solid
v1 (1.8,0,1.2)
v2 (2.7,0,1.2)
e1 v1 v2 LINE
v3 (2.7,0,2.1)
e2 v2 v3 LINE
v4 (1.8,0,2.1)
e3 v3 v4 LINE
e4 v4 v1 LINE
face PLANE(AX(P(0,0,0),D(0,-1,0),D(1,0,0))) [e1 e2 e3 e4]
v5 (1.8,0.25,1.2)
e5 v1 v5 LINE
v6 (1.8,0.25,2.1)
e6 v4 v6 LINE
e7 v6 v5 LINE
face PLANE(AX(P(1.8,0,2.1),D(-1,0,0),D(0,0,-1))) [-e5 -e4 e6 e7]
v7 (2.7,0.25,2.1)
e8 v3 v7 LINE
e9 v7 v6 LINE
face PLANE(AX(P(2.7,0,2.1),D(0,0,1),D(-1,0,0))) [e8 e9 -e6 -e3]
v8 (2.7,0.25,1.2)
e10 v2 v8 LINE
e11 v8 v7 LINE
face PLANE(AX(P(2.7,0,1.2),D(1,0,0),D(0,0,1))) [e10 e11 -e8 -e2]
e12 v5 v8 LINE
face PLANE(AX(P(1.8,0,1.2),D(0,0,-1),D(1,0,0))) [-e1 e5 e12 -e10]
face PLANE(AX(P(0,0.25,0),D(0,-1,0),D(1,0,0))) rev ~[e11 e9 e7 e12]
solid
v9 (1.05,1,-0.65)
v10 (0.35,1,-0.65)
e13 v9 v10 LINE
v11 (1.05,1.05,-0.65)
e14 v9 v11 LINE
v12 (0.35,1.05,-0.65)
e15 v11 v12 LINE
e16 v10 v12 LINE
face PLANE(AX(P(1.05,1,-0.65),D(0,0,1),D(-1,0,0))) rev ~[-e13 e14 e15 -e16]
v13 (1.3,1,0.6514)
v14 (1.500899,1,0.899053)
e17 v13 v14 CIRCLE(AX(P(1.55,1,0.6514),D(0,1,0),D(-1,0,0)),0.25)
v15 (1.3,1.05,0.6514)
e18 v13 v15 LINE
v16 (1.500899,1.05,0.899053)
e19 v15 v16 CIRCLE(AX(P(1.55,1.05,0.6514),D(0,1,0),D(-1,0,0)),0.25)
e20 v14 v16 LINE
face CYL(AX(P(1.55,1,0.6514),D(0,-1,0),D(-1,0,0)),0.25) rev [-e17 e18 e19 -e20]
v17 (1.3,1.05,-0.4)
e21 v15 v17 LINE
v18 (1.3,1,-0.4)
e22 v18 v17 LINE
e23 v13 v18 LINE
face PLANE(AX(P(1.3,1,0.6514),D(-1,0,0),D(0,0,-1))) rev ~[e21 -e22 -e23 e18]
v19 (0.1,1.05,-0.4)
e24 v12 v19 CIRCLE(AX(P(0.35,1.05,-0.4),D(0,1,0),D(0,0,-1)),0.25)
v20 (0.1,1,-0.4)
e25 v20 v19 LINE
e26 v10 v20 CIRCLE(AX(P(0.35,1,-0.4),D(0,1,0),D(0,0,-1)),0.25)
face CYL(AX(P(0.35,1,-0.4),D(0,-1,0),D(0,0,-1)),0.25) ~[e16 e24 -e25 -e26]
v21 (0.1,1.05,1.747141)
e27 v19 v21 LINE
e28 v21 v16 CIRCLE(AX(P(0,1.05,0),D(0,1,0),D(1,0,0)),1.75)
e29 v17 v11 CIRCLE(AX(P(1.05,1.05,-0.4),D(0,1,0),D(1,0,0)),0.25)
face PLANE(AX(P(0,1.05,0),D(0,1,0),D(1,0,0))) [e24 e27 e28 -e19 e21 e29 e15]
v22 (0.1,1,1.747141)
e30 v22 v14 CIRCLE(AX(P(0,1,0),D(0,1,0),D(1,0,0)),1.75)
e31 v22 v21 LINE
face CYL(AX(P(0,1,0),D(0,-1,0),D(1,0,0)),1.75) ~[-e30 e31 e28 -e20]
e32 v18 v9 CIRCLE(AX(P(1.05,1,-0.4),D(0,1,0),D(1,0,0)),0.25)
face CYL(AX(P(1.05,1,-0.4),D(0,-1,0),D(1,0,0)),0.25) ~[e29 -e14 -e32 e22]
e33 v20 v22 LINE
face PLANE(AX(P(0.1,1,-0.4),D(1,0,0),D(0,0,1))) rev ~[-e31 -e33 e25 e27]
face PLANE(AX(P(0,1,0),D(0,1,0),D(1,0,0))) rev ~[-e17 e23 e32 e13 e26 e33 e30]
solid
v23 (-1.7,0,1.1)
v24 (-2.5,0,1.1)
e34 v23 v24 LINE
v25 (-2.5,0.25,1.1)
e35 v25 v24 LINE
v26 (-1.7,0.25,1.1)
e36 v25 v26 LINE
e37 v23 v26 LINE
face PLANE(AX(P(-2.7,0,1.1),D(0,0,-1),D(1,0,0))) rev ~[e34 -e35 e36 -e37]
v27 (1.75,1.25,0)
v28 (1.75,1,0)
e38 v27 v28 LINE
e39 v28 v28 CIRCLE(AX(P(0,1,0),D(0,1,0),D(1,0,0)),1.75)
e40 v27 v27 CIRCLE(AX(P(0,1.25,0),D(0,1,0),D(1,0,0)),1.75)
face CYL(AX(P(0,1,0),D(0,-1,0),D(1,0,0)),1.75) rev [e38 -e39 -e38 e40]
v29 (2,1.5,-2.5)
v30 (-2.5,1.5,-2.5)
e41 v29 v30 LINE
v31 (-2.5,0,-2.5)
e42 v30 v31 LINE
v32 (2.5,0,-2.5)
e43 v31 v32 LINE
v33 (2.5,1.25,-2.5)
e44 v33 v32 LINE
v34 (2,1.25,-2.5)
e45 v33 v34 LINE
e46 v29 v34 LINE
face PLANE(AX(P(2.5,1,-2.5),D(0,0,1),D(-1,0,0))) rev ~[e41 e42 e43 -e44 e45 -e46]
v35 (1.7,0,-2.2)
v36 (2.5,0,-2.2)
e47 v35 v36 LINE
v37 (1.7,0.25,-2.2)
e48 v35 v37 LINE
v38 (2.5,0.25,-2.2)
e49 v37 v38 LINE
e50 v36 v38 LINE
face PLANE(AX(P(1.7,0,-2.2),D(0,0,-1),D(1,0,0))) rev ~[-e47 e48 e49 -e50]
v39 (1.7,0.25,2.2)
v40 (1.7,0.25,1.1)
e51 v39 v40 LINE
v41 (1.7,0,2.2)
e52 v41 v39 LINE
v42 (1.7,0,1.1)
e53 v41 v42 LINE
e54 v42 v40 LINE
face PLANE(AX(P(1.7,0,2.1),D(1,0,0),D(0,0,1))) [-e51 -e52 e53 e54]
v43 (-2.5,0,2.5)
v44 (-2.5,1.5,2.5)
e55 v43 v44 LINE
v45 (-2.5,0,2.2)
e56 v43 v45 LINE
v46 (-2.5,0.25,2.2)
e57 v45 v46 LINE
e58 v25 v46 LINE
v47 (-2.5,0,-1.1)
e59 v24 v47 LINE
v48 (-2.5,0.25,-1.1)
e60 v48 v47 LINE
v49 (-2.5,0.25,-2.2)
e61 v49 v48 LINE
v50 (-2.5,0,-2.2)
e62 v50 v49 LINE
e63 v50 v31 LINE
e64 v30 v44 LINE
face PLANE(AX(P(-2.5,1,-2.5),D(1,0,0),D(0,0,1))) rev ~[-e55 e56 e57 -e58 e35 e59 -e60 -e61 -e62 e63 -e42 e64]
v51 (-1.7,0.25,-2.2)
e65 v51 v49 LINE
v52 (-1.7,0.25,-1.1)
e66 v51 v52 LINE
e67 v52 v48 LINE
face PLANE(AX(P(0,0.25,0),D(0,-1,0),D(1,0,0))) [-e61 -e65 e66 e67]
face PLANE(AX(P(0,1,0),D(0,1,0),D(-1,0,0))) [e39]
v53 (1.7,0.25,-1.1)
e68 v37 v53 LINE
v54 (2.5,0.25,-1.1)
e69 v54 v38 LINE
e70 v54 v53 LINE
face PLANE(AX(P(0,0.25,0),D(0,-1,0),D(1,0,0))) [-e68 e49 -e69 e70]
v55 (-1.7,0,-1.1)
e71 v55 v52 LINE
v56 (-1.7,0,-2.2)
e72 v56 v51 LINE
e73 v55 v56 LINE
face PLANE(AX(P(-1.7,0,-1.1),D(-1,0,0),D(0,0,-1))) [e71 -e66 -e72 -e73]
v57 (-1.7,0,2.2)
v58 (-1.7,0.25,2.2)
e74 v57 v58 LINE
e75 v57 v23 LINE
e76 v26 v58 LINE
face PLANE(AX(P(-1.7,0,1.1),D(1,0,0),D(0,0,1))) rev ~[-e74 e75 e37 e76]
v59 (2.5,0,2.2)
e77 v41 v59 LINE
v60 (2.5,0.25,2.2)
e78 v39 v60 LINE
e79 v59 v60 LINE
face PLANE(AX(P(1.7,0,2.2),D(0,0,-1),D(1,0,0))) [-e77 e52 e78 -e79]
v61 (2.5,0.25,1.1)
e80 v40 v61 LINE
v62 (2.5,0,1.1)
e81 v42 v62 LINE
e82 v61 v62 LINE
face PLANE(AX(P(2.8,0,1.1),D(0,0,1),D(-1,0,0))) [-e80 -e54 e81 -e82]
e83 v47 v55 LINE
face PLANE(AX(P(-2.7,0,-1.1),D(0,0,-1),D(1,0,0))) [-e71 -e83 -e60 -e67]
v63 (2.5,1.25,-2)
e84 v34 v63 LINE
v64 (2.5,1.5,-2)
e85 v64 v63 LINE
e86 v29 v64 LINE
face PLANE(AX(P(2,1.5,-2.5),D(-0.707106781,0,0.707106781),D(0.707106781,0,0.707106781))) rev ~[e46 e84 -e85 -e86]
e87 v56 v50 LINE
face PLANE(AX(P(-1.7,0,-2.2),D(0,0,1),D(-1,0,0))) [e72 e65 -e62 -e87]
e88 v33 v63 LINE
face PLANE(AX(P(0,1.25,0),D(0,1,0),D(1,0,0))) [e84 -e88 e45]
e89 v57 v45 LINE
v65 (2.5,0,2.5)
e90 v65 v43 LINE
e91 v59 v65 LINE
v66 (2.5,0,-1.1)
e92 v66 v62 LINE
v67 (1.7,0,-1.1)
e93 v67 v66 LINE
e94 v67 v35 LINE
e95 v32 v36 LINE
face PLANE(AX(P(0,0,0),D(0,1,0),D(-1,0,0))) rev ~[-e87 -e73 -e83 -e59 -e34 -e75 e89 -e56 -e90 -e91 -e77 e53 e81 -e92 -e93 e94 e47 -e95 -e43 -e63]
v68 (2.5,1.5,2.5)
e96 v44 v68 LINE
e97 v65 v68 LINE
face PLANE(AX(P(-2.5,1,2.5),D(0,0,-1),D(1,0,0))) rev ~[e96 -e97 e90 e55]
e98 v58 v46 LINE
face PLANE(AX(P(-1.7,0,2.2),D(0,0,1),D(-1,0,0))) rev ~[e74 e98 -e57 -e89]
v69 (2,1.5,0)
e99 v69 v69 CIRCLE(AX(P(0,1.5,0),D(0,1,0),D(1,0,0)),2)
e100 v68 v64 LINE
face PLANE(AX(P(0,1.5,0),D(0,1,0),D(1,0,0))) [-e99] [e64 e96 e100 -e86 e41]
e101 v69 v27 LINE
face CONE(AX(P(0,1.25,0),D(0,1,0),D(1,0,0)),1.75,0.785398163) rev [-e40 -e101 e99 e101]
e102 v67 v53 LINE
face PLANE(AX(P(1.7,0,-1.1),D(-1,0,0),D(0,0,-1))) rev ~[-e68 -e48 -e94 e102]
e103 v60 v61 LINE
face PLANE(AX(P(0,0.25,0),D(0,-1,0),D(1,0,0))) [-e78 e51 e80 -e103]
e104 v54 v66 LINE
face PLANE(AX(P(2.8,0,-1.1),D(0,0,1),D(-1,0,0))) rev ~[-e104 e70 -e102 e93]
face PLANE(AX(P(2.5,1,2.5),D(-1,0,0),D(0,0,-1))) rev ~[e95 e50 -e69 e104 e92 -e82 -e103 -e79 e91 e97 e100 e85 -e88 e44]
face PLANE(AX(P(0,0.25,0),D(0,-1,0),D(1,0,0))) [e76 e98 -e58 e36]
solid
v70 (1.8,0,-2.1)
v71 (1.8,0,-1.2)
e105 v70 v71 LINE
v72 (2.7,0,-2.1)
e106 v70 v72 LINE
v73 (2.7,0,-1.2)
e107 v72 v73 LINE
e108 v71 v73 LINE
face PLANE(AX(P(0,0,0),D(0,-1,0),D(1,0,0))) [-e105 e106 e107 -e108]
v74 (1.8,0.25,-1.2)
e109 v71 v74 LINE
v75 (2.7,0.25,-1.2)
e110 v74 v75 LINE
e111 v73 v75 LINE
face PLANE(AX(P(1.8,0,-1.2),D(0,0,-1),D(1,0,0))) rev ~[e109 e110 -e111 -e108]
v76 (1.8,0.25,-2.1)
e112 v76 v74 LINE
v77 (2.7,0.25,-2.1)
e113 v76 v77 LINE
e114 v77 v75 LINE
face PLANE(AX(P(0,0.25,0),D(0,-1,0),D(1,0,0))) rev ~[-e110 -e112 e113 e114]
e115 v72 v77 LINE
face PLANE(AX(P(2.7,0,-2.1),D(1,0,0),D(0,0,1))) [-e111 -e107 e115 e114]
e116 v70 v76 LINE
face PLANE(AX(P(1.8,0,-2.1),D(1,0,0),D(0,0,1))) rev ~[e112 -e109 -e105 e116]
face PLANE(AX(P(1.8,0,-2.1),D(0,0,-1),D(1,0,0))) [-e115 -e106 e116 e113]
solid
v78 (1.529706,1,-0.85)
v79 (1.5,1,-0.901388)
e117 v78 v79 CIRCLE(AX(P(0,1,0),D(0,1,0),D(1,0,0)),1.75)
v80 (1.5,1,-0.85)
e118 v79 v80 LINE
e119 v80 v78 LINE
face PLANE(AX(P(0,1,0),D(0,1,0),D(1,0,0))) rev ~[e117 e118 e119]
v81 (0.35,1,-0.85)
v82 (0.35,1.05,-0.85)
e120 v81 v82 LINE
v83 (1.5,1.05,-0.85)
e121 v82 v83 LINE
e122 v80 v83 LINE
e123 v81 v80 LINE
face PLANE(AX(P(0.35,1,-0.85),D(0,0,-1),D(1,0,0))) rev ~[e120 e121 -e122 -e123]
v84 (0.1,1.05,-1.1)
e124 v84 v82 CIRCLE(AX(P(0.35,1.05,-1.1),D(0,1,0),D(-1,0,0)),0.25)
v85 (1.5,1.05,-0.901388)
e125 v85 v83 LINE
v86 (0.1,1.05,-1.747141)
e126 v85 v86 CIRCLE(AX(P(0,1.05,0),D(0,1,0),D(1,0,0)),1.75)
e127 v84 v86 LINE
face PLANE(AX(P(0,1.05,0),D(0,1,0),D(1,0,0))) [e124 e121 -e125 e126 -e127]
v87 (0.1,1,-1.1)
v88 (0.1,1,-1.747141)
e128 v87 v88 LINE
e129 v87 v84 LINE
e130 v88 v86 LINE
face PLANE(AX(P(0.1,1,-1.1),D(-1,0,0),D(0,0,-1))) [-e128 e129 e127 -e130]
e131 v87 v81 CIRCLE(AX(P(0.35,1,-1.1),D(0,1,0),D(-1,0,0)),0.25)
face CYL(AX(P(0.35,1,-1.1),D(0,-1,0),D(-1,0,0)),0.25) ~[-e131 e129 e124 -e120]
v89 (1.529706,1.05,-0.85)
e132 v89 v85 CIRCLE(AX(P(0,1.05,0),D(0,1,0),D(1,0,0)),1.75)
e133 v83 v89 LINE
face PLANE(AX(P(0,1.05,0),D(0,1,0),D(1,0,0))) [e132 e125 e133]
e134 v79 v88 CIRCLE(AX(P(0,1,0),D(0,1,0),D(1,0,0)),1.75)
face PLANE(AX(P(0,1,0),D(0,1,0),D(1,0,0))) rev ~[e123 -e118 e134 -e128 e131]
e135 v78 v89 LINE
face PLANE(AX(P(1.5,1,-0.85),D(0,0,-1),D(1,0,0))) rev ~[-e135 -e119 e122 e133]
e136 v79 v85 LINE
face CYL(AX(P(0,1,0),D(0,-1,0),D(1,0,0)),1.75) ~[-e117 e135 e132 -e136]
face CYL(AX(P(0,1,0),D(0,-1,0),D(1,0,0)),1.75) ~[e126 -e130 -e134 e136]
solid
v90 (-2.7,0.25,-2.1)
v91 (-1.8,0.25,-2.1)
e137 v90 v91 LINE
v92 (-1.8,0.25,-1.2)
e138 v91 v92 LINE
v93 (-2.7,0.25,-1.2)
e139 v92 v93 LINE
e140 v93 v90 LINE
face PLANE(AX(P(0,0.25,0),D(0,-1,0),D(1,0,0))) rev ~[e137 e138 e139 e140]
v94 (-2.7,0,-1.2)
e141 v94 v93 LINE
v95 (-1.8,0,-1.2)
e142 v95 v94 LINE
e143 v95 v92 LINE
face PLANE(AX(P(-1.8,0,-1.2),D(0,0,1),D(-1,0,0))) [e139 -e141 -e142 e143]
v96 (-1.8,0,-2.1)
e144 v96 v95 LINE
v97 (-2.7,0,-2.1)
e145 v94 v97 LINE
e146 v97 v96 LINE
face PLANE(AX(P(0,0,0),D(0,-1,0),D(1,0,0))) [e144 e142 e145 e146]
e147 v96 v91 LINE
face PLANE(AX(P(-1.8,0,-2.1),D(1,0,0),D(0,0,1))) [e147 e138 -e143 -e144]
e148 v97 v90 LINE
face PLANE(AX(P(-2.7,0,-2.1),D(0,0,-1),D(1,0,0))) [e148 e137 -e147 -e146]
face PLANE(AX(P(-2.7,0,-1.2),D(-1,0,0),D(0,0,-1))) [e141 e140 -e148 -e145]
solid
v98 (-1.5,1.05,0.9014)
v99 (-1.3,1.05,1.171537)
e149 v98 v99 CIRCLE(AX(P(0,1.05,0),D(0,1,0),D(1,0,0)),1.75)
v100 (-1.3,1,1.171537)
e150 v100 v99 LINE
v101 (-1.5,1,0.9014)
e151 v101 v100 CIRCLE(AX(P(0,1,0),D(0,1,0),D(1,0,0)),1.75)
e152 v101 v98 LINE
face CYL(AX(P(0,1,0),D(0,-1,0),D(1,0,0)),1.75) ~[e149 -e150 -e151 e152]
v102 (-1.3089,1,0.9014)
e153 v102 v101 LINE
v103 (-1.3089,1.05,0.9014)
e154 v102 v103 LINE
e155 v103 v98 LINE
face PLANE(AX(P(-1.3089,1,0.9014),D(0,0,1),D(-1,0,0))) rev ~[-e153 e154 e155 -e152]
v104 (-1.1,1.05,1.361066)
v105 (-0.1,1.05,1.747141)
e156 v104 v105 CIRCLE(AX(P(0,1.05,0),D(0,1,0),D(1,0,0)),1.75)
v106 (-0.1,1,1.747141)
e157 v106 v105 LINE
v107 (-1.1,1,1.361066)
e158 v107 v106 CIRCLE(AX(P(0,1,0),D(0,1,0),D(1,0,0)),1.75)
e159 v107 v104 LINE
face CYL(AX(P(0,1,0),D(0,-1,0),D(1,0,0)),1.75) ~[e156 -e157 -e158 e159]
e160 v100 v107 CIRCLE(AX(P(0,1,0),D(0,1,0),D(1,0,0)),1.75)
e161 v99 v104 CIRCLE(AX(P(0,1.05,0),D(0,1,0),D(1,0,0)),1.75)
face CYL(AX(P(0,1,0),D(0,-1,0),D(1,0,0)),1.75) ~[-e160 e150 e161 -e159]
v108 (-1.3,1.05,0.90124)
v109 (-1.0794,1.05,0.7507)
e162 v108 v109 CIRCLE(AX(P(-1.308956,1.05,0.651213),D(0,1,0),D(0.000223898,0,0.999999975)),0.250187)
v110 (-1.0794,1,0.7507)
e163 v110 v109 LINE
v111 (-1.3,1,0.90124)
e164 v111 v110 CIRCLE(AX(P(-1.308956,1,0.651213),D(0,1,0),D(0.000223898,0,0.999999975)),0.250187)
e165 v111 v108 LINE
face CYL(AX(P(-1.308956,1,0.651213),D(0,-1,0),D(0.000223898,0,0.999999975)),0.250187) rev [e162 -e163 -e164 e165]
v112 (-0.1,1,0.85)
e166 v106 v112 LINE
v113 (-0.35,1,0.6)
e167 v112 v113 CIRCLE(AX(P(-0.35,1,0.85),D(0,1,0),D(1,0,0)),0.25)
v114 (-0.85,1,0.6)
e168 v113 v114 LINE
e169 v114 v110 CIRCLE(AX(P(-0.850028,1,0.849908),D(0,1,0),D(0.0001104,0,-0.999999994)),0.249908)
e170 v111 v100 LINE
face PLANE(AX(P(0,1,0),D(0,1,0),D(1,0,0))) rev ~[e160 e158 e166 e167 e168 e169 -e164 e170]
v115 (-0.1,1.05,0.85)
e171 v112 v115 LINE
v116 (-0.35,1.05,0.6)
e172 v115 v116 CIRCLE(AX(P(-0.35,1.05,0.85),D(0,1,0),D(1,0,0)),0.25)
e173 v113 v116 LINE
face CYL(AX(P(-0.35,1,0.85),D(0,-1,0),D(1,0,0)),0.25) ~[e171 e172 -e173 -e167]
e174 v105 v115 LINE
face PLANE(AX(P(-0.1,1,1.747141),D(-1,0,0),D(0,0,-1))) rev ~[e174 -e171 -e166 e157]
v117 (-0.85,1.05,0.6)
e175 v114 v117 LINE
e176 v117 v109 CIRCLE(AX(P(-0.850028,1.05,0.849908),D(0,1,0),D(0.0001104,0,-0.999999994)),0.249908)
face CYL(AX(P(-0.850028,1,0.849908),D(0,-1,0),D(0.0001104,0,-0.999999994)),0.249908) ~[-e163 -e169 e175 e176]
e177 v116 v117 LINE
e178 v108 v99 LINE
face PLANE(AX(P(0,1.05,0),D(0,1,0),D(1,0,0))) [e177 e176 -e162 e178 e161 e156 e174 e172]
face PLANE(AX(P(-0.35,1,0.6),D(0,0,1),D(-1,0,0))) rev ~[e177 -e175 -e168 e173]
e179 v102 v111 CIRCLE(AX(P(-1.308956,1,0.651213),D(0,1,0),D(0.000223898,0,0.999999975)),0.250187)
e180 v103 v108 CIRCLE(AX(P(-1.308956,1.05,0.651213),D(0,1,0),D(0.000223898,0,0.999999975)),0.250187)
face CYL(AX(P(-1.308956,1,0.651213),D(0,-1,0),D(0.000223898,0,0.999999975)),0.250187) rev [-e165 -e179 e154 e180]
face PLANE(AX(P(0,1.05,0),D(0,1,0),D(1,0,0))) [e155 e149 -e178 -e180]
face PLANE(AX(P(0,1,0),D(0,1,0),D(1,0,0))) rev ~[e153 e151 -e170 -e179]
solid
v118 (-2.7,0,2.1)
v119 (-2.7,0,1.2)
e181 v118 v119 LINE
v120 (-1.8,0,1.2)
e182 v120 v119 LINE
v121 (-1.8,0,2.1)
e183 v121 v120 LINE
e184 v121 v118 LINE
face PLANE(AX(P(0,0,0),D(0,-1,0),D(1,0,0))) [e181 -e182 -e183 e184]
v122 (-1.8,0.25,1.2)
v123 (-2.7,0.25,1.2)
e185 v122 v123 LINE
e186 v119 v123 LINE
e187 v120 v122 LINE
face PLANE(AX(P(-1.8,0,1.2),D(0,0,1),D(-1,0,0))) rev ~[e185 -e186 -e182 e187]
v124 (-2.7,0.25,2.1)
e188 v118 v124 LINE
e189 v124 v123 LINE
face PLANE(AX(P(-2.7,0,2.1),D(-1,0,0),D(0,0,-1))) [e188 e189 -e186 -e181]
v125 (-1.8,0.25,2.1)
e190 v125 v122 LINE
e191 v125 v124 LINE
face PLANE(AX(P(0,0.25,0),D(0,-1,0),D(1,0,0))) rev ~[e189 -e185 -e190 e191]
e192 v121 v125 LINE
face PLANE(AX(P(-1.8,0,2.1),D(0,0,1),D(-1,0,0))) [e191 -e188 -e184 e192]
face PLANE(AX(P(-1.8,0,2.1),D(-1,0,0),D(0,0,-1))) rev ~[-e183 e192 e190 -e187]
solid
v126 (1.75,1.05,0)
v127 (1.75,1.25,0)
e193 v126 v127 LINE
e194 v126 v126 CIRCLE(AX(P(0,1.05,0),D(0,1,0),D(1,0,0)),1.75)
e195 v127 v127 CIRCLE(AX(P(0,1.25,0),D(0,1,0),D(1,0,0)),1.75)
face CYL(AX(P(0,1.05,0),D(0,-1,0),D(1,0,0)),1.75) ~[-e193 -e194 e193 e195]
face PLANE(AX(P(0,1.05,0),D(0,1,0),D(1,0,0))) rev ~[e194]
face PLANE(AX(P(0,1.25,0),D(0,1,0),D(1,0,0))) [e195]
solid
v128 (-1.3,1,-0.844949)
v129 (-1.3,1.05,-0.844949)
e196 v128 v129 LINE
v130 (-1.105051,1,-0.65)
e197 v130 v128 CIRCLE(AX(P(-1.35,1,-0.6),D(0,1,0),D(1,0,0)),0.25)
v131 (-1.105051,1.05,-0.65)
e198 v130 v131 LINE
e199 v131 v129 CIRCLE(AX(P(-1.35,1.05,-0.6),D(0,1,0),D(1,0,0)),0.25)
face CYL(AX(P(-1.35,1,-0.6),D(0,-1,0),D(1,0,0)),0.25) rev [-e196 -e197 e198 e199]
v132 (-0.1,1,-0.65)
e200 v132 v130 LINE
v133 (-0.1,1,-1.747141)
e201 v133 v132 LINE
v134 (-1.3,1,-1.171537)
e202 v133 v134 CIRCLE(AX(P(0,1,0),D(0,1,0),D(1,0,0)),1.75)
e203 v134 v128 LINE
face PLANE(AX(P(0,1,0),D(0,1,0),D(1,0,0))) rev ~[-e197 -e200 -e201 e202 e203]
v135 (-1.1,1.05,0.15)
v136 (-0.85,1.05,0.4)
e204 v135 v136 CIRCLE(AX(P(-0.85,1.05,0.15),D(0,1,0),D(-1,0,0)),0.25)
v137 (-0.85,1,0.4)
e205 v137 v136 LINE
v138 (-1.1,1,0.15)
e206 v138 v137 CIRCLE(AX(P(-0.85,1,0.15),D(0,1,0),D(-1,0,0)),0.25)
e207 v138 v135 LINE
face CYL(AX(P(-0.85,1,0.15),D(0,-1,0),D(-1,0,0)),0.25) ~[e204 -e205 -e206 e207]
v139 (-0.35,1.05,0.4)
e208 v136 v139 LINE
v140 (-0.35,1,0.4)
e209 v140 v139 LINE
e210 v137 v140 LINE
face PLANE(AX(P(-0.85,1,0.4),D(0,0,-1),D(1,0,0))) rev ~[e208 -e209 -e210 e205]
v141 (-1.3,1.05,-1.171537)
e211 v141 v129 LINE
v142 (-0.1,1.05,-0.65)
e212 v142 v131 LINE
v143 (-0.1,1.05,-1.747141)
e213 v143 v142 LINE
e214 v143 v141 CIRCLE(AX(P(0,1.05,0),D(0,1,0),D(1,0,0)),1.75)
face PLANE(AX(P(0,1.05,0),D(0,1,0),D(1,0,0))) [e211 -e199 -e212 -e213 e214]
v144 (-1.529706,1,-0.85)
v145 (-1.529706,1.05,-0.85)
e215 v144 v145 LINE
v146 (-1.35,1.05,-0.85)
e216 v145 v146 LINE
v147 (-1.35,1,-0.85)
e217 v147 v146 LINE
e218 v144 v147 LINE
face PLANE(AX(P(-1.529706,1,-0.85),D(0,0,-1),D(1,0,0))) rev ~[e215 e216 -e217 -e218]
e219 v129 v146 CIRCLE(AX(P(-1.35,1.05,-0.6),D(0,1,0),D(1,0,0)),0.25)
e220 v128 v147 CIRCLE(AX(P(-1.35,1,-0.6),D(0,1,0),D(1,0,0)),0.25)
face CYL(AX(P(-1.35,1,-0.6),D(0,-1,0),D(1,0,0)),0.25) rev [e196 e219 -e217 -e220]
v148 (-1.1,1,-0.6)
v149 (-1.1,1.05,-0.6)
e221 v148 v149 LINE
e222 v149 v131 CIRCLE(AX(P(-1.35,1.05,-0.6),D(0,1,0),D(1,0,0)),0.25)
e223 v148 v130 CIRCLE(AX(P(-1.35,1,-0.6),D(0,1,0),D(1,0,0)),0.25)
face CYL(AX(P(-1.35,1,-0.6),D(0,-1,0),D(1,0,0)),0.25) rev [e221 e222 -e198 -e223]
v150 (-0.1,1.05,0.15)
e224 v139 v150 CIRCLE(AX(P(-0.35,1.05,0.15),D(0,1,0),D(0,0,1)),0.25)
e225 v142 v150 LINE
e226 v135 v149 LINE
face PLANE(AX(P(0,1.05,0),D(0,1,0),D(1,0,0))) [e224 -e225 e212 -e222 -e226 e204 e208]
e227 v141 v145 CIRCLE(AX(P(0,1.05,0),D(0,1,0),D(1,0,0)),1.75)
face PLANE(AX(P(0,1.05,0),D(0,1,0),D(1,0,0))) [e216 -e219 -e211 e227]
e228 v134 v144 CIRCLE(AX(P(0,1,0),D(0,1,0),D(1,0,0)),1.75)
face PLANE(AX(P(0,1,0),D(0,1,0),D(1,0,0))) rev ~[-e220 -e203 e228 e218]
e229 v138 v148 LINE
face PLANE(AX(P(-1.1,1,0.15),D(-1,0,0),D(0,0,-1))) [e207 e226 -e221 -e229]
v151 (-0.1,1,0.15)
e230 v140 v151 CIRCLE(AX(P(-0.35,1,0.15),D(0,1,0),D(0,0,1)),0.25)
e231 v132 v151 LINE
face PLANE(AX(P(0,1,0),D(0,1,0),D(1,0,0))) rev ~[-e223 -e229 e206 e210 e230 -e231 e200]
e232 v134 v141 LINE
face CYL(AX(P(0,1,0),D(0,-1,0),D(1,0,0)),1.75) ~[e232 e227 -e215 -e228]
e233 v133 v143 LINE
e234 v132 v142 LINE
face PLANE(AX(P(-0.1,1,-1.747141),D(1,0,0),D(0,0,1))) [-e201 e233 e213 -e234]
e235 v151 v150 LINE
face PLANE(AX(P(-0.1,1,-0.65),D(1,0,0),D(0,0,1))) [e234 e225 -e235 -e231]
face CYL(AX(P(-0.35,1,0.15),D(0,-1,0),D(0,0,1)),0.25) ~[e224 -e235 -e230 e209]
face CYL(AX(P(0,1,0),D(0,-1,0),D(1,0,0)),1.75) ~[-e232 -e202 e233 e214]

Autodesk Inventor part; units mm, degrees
ref_plane "YZ Plane" through (0, 0, 0) normal (1, 0, 0) x (0, 1, 0)
ref_plane "XZ Plane" through (0, 0, 0) normal (0, 1, 0) x (-1, 0, 0)
ref_plane "XY Plane" through (0, 0, 0) normal (0, 0, 1) x (1, 0, 0)
sketch "Sketch1" plane through (0, 0, 0) normal (0, 1, 0) x (-1, 0, 0)
  line L0 (-2.5, 2.5) -> (2.5, 2.5)
  line L1 (2.5, 2.5) -> (2.5, -2.5)
  line L2 (2.5, -2.5) -> (-2.5, -2.5)
  line L3 (-2.5, -2.5) -> (-2.5, 2.5)
  line L4 (-2.5, 2.5) -> (2.5, -2.5) construction
  line L5 (2.5, 2.5) -> (-2.5, -2.5) construction
  point P0 (0, 0)
  dimension "d0" = 5
  dimension "d1" = 5
extrude "Extrusion1" add sketch "Sketch1" along normal blind 1
sketch "Sketch2" plane through (0, 1, 0) normal (0, 1, 0) x (1, 0, 0)
  circle A0 centre (0, 0) radius 2
  circle A1 centre (0, 0) radius 1.75
  dimension "d4" = 4
  dimension "d5" = 3.5
extrude "Extrusion2" add sketch "Sketch2" along normal blind 0.25
sketch "Sketch3" plane through (0, 1, 0) normal (0, 1, 0) x (1, 0, 0)
  line L0 (0.1, -2.6193) -> (-0.1, -2.6193)
  line L1 (-0.1, -2.6193) -> (-0.1, -0.85)
  line L2 (-0.1, 2.6193) -> (0.1, 2.6193)
  line L3 (0.1, 0.4) -> (0.1, -2.6193)
  line L4 (0, 0) -> (0, -0.5)
  line L5 (-0.35, -0.6) -> (-0.85, -0.6)
  line L6 (-2.9966, -0.6) -> (-2.9966, -0.4)
  line L7 (-0.85, -0.4) -> (-0.35, -0.4)
  line L8 (2.9966, -0.4) -> (2.9966, -0.6)
  line L9 (0, 0) -> (0, 0.5)
  line L10 (0, 0.5) -> (0, 0.75)
  line L11 (1.05, 0.65) -> (0.35, 0.65)
  line L12 (-3.251, 0.65) -> (-3.251, 0.85)
  line L13 (-3.251, 0.85) -> (-1.35, 0.85)
  line L14 (3.251, 0.85) -> (3.251, 0.65)
  line L15 (0, 0.75) -> (1.4, 0.75)
  line L16 (0, -0.5) -> (-1.2, -0.5)
  line L17 (-1.3, -2.7729) -> (-1.1, -2.7729)
  line L18 (-1.1, -2.7729) -> (-1.1, -0.85)
  line L19 (-1.1, 1.7729) -> (-1.3, 1.7729)
  line L20 (-1.3, 1.7729) -> (-1.3, -2.7729)
  line L21 (1.3, 3.2834) -> (1.5, 3.2834)
  line L22 (1.5, 3.2834) -> (1.5, -1.7834)
  line L23 (1.5, -1.7834) -> (1.3, -1.7834)
  line L24 (1.3, -0.6514) -> (1.3, 0.4)
  line L25 (1.3, 3.2834) -> (1.5, -1.7834) construction
  line L26 (1.5, 3.2834) -> (1.3, -1.7834) construction
  circle A0 centre (0, 0) radius 1.75
  circle A1 centre (0, 0) radius 1.75 projected
  line L27 (1.5, -0.9014) -> (1.55, -0.9014)
  arc A2 (1.3, -0.6514) -> (1.55, -0.9014) centre (1.55, -0.6514) ccw
  arc A3 (1.3, 0.4) -> (1.05, 0.65) centre (1.05, 0.4) ccw
  arc A4 (0.35, 0.65) -> (0.1, 0.4) centre (0.35, 0.4) ccw
  arc A5 (-0.1, -0.85) -> (-0.35, -0.6) centre (-0.35, -0.85) ccw
  arc A6 (-0.85, -0.6) -> (-1.0794, -0.7507) centre (-0.85, -0.85) ccw
  line L28 (-1.3089, -0.9014) -> (-1.5, -0.9014)
  arc A7 (-1.3089, -0.9014) -> (-1.0794, -0.7507) centre (-1.3089, -0.6514) ccw
  line L29 (-1.1, -0.15) -> (-1.1, 0.6)
  line L30 (3.251, 0.65) -> (-3.251, 0.65)
  line L31 (-0.1, 2.6193) -> (-0.1, -0.15)
  arc A8 (-0.35, -0.4) -> (-0.1, -0.15) centre (-0.35, -0.15) ccw
  arc A9 (-1.1, -0.15) -> (-0.85, -0.4) centre (-0.85, -0.15) ccw
  arc A10 (-1.1, 0.6) -> (-1.35, 0.85) centre (-1.35, 0.6) ccw
  line L32 (0.1, 1.1) -> (0.1, 2.0881)
  line L33 (0.35, 0.85) -> (3.251, 0.85)
  arc A11 (0.1, 1.1) -> (0.35, 0.85) centre (0.35, 1.1) ccw
  point P0 (0.1, -1.7471)
  point P1 (1.5, -0.9014)
  point P2 (1.5, -0.8963)
  point P3 (-0.1, -1.7471)
  point P4 (1.5297, 0.85)
  point P5 (0.1, 1.7471)
  point P6 (-0.1, 1.7471)
  point P7 (-1.5297, 0.85)
  dimension "d8" = 0.2
  dimension "d9" = 0.5
  dimension "d10" = 0.2
  dimension "d11" = 0.5
  dimension "d12" = 0.25
  dimension "d13" = 0.2
  dimension "d14" = 1.4
  dimension "d15" = 1.2
  dimension "d16" = 0.2
  dimension "d17" = 0.2
  dimension "d18" = 0.25
  dimension "d19" = 0.25
  dimension "d20" = 0.25
  dimension "d21" = 0.25
extrude "Extrusion3" add sketch "Sketch3" along normal blind 0.05 separate body contours L3 A4 L11 A3 L24 A2 A0 | A0 L20 A7 A6 L5 A5 L1 | A0 L28 A7 L20 | L33 A11 L32 A0 L22 | L22 A0 L33 | L31 A8 L7 A9 L29 A10 L30 | L30 A10 L20 A0 L31 | A10 L13 A0 L20
sketch "Sketch4" plane through (0, 0, 0) normal (0, -1, 0) x (1, 0, 0)
  line L0 (2.7, 2.1) -> (-2.7, 2.1)
  line L1 (-2.7, 2.1) -> (-2.7, -2.1)
  line L2 (-2.7, -2.1) -> (2.7, -2.1)
  line L3 (2.7, -2.1) -> (2.7, 2.1)
  line L4 (2.7, 2.1) -> (-2.7, -2.1) construction
  line L5 (-2.7, 2.1) -> (2.7, -2.1) construction
  line L6 (2.7, -2.1) -> (1.8, -2.1)
  line L7 (1.8, -2.1) -> (1.8, -1.2)
  line L8 (1.8, -1.2) -> (2.7, -1.2)
  line L9 (2.7, -1.2) -> (2.7, -2.1)
  line L10 (2.7, 2.1) -> (1.8, 2.1)
  line L11 (1.8, 2.1) -> (1.8, 1.2)
  line L12 (1.8, 1.2) -> (2.7, 1.2)
  line L13 (2.7, 1.2) -> (2.7, 2.1)
  line L14 (-2.7, 2.1) -> (-1.8, 2.1)
  line L15 (-1.8, 2.1) -> (-1.8, 1.2)
  line L16 (-1.8, 1.2) -> (-2.7, 1.2)
  line L17 (-2.7, 1.2) -> (-2.7, 2.1)
  line L18 (-2.7, -2.1) -> (-1.8, -2.1)
  line L19 (-1.8, -2.1) -> (-1.8, -1.2)
  line L20 (-1.8, -1.2) -> (-2.7, -1.2)
  line L21 (-2.7, -1.2) -> (-2.7, -2.1)
  line L22 (1.7, -1.1) -> (1.7, -2.2)
  line L23 (1.7, -2.2) -> (2.8, -2.2)
  line L24 (2.8, -2.2) -> (2.8, -1.1)
  line L25 (2.8, -1.1) -> (1.7, -1.1)
  line L26 (1.7, 1.1) -> (1.7, 2.2)
  line L27 (1.7, 2.2) -> (2.8, 2.2)
  line L28 (2.8, 2.2) -> (2.8, 1.1)
  line L29 (2.8, 1.1) -> (1.7, 1.1)
  line L30 (-1.7, 1.1) -> (-1.7, 2.2)
  line L31 (-1.7, 2.2) -> (-2.8, 2.2)
  line L32 (-2.8, 2.2) -> (-2.8, 1.1)
  line L33 (-2.8, 1.1) -> (-1.7, 1.1)
  line L34 (-2.8, -1.1) -> (-1.7, -1.1)
  line L35 (-1.7, -1.1) -> (-1.7, -2.2)
  line L36 (-1.7, -2.2) -> (-2.8, -2.2)
  line L37 (-2.8, -2.2) -> (-2.8, -1.1)
  point P0 (0, 0)
  dimension "d24" = 5.4
  dimension "d25" = 4.2
  dimension "d26" = 0.9
  dimension "d27" = 0.9
  dimension "d28" = 0.9
  dimension "d29" = 0.9
  dimension "d30" = 0.9
  dimension "d31" = 0.9
  dimension "d32" = 0.9
  dimension "d33" = 0.9
  dimension "d34" = 0.1
  dimension "d35" = 0.1
  dimension "d36" = 0.1
  dimension "d37" = 0.1
extrude "Extrusion4" cut sketch "Sketch4" against normal blind 0.25 contours L3 L12 L11 L0 | L0 L26 L27 L28 L29 L3 | L11 L12 L3 L29 L26 L0 | L30 L33 L1 L16 L15 L0 | L0 L1 L33 L32 L31 L30 | L25 L24 L23 L22 L2 L3 | L3 L8 L7 L2 L22 L25 | L15 L16 L1 L0 | L3 L2 L7 L8 | L34 L35 L2 L19 L20 L1 | L1 L2 L35 L36 L37 L34 | L20 L19 L2 L1 bodies 1
extrude "Extrusion5" add sketch "Sketch4" against normal blind 0.25 separate body contours L3 L12 L11 L0 | L15 L16 L1 L0 | L3 L2 L7 L8 | L20 L19 L2 L1
sketch "Sketch5" plane through (0, 1, 0) normal (0, 1, 0) x (1, 0, 0)
  line L0 (-2.5, -2.5) -> (2.5, -2.5) projected
  line L1 (2.5, 2.5) -> (-2.5, 2.5) projected
  line L2 (-2.5, -2.5) -> (2.5, -2.5)
  line L3 (2.5, -2.5) -> (2.5, 2.5)
  line L4 (2.5, 2.5) -> (-2.5, 2.5)
  line L5 (-2.5, 2.5) -> (-2.5, -2.5)
  circle A0 centre (0, 0) radius 1.75
extrude "Extrusion6" add sketch "Sketch5" along normal blind 0.5 bodies 1
sketch "Sketch6" plane through (0, 1.5, 0) normal (0, 1, 0) x (1, 0, 0)
  line L0 (2.5, 2.5) -> (-2.5, 2.5) projected
  line L1 (2.5, 2.5) -> (2, 2.5)
  line L2 (2, 2.5) -> (2.5, 2)
  line L3 (2.5, 1.1) -> (2.5, 2.2) projected
  line L4 (2.5, -2.5) -> (2.5, 2.5) projected
  line L5 (2.5, 2) -> (2.5, 2.5)
  point P0 (0, 0)
  dimension "d44" = 0.5
  dimension "d45" = 45
extrude "Extrusion7" cut sketch "Sketch6" against normal blind 0.25 bodies 1
chamfer "Chamfer1" distance 0.25 angle 45 1 edges at (-1.75, 1.5, 0)
sketch "Sketch7" plane through (0, 1.05, 0) normal (0, 1, 0) x (1, 0, 0)
  circle A0 centre (0, 0) radius 1.75
extrude "Extrusion8" add sketch "Sketch7" along normal blind 0.2 separate body
properties part number "WS2812b_SMD"
